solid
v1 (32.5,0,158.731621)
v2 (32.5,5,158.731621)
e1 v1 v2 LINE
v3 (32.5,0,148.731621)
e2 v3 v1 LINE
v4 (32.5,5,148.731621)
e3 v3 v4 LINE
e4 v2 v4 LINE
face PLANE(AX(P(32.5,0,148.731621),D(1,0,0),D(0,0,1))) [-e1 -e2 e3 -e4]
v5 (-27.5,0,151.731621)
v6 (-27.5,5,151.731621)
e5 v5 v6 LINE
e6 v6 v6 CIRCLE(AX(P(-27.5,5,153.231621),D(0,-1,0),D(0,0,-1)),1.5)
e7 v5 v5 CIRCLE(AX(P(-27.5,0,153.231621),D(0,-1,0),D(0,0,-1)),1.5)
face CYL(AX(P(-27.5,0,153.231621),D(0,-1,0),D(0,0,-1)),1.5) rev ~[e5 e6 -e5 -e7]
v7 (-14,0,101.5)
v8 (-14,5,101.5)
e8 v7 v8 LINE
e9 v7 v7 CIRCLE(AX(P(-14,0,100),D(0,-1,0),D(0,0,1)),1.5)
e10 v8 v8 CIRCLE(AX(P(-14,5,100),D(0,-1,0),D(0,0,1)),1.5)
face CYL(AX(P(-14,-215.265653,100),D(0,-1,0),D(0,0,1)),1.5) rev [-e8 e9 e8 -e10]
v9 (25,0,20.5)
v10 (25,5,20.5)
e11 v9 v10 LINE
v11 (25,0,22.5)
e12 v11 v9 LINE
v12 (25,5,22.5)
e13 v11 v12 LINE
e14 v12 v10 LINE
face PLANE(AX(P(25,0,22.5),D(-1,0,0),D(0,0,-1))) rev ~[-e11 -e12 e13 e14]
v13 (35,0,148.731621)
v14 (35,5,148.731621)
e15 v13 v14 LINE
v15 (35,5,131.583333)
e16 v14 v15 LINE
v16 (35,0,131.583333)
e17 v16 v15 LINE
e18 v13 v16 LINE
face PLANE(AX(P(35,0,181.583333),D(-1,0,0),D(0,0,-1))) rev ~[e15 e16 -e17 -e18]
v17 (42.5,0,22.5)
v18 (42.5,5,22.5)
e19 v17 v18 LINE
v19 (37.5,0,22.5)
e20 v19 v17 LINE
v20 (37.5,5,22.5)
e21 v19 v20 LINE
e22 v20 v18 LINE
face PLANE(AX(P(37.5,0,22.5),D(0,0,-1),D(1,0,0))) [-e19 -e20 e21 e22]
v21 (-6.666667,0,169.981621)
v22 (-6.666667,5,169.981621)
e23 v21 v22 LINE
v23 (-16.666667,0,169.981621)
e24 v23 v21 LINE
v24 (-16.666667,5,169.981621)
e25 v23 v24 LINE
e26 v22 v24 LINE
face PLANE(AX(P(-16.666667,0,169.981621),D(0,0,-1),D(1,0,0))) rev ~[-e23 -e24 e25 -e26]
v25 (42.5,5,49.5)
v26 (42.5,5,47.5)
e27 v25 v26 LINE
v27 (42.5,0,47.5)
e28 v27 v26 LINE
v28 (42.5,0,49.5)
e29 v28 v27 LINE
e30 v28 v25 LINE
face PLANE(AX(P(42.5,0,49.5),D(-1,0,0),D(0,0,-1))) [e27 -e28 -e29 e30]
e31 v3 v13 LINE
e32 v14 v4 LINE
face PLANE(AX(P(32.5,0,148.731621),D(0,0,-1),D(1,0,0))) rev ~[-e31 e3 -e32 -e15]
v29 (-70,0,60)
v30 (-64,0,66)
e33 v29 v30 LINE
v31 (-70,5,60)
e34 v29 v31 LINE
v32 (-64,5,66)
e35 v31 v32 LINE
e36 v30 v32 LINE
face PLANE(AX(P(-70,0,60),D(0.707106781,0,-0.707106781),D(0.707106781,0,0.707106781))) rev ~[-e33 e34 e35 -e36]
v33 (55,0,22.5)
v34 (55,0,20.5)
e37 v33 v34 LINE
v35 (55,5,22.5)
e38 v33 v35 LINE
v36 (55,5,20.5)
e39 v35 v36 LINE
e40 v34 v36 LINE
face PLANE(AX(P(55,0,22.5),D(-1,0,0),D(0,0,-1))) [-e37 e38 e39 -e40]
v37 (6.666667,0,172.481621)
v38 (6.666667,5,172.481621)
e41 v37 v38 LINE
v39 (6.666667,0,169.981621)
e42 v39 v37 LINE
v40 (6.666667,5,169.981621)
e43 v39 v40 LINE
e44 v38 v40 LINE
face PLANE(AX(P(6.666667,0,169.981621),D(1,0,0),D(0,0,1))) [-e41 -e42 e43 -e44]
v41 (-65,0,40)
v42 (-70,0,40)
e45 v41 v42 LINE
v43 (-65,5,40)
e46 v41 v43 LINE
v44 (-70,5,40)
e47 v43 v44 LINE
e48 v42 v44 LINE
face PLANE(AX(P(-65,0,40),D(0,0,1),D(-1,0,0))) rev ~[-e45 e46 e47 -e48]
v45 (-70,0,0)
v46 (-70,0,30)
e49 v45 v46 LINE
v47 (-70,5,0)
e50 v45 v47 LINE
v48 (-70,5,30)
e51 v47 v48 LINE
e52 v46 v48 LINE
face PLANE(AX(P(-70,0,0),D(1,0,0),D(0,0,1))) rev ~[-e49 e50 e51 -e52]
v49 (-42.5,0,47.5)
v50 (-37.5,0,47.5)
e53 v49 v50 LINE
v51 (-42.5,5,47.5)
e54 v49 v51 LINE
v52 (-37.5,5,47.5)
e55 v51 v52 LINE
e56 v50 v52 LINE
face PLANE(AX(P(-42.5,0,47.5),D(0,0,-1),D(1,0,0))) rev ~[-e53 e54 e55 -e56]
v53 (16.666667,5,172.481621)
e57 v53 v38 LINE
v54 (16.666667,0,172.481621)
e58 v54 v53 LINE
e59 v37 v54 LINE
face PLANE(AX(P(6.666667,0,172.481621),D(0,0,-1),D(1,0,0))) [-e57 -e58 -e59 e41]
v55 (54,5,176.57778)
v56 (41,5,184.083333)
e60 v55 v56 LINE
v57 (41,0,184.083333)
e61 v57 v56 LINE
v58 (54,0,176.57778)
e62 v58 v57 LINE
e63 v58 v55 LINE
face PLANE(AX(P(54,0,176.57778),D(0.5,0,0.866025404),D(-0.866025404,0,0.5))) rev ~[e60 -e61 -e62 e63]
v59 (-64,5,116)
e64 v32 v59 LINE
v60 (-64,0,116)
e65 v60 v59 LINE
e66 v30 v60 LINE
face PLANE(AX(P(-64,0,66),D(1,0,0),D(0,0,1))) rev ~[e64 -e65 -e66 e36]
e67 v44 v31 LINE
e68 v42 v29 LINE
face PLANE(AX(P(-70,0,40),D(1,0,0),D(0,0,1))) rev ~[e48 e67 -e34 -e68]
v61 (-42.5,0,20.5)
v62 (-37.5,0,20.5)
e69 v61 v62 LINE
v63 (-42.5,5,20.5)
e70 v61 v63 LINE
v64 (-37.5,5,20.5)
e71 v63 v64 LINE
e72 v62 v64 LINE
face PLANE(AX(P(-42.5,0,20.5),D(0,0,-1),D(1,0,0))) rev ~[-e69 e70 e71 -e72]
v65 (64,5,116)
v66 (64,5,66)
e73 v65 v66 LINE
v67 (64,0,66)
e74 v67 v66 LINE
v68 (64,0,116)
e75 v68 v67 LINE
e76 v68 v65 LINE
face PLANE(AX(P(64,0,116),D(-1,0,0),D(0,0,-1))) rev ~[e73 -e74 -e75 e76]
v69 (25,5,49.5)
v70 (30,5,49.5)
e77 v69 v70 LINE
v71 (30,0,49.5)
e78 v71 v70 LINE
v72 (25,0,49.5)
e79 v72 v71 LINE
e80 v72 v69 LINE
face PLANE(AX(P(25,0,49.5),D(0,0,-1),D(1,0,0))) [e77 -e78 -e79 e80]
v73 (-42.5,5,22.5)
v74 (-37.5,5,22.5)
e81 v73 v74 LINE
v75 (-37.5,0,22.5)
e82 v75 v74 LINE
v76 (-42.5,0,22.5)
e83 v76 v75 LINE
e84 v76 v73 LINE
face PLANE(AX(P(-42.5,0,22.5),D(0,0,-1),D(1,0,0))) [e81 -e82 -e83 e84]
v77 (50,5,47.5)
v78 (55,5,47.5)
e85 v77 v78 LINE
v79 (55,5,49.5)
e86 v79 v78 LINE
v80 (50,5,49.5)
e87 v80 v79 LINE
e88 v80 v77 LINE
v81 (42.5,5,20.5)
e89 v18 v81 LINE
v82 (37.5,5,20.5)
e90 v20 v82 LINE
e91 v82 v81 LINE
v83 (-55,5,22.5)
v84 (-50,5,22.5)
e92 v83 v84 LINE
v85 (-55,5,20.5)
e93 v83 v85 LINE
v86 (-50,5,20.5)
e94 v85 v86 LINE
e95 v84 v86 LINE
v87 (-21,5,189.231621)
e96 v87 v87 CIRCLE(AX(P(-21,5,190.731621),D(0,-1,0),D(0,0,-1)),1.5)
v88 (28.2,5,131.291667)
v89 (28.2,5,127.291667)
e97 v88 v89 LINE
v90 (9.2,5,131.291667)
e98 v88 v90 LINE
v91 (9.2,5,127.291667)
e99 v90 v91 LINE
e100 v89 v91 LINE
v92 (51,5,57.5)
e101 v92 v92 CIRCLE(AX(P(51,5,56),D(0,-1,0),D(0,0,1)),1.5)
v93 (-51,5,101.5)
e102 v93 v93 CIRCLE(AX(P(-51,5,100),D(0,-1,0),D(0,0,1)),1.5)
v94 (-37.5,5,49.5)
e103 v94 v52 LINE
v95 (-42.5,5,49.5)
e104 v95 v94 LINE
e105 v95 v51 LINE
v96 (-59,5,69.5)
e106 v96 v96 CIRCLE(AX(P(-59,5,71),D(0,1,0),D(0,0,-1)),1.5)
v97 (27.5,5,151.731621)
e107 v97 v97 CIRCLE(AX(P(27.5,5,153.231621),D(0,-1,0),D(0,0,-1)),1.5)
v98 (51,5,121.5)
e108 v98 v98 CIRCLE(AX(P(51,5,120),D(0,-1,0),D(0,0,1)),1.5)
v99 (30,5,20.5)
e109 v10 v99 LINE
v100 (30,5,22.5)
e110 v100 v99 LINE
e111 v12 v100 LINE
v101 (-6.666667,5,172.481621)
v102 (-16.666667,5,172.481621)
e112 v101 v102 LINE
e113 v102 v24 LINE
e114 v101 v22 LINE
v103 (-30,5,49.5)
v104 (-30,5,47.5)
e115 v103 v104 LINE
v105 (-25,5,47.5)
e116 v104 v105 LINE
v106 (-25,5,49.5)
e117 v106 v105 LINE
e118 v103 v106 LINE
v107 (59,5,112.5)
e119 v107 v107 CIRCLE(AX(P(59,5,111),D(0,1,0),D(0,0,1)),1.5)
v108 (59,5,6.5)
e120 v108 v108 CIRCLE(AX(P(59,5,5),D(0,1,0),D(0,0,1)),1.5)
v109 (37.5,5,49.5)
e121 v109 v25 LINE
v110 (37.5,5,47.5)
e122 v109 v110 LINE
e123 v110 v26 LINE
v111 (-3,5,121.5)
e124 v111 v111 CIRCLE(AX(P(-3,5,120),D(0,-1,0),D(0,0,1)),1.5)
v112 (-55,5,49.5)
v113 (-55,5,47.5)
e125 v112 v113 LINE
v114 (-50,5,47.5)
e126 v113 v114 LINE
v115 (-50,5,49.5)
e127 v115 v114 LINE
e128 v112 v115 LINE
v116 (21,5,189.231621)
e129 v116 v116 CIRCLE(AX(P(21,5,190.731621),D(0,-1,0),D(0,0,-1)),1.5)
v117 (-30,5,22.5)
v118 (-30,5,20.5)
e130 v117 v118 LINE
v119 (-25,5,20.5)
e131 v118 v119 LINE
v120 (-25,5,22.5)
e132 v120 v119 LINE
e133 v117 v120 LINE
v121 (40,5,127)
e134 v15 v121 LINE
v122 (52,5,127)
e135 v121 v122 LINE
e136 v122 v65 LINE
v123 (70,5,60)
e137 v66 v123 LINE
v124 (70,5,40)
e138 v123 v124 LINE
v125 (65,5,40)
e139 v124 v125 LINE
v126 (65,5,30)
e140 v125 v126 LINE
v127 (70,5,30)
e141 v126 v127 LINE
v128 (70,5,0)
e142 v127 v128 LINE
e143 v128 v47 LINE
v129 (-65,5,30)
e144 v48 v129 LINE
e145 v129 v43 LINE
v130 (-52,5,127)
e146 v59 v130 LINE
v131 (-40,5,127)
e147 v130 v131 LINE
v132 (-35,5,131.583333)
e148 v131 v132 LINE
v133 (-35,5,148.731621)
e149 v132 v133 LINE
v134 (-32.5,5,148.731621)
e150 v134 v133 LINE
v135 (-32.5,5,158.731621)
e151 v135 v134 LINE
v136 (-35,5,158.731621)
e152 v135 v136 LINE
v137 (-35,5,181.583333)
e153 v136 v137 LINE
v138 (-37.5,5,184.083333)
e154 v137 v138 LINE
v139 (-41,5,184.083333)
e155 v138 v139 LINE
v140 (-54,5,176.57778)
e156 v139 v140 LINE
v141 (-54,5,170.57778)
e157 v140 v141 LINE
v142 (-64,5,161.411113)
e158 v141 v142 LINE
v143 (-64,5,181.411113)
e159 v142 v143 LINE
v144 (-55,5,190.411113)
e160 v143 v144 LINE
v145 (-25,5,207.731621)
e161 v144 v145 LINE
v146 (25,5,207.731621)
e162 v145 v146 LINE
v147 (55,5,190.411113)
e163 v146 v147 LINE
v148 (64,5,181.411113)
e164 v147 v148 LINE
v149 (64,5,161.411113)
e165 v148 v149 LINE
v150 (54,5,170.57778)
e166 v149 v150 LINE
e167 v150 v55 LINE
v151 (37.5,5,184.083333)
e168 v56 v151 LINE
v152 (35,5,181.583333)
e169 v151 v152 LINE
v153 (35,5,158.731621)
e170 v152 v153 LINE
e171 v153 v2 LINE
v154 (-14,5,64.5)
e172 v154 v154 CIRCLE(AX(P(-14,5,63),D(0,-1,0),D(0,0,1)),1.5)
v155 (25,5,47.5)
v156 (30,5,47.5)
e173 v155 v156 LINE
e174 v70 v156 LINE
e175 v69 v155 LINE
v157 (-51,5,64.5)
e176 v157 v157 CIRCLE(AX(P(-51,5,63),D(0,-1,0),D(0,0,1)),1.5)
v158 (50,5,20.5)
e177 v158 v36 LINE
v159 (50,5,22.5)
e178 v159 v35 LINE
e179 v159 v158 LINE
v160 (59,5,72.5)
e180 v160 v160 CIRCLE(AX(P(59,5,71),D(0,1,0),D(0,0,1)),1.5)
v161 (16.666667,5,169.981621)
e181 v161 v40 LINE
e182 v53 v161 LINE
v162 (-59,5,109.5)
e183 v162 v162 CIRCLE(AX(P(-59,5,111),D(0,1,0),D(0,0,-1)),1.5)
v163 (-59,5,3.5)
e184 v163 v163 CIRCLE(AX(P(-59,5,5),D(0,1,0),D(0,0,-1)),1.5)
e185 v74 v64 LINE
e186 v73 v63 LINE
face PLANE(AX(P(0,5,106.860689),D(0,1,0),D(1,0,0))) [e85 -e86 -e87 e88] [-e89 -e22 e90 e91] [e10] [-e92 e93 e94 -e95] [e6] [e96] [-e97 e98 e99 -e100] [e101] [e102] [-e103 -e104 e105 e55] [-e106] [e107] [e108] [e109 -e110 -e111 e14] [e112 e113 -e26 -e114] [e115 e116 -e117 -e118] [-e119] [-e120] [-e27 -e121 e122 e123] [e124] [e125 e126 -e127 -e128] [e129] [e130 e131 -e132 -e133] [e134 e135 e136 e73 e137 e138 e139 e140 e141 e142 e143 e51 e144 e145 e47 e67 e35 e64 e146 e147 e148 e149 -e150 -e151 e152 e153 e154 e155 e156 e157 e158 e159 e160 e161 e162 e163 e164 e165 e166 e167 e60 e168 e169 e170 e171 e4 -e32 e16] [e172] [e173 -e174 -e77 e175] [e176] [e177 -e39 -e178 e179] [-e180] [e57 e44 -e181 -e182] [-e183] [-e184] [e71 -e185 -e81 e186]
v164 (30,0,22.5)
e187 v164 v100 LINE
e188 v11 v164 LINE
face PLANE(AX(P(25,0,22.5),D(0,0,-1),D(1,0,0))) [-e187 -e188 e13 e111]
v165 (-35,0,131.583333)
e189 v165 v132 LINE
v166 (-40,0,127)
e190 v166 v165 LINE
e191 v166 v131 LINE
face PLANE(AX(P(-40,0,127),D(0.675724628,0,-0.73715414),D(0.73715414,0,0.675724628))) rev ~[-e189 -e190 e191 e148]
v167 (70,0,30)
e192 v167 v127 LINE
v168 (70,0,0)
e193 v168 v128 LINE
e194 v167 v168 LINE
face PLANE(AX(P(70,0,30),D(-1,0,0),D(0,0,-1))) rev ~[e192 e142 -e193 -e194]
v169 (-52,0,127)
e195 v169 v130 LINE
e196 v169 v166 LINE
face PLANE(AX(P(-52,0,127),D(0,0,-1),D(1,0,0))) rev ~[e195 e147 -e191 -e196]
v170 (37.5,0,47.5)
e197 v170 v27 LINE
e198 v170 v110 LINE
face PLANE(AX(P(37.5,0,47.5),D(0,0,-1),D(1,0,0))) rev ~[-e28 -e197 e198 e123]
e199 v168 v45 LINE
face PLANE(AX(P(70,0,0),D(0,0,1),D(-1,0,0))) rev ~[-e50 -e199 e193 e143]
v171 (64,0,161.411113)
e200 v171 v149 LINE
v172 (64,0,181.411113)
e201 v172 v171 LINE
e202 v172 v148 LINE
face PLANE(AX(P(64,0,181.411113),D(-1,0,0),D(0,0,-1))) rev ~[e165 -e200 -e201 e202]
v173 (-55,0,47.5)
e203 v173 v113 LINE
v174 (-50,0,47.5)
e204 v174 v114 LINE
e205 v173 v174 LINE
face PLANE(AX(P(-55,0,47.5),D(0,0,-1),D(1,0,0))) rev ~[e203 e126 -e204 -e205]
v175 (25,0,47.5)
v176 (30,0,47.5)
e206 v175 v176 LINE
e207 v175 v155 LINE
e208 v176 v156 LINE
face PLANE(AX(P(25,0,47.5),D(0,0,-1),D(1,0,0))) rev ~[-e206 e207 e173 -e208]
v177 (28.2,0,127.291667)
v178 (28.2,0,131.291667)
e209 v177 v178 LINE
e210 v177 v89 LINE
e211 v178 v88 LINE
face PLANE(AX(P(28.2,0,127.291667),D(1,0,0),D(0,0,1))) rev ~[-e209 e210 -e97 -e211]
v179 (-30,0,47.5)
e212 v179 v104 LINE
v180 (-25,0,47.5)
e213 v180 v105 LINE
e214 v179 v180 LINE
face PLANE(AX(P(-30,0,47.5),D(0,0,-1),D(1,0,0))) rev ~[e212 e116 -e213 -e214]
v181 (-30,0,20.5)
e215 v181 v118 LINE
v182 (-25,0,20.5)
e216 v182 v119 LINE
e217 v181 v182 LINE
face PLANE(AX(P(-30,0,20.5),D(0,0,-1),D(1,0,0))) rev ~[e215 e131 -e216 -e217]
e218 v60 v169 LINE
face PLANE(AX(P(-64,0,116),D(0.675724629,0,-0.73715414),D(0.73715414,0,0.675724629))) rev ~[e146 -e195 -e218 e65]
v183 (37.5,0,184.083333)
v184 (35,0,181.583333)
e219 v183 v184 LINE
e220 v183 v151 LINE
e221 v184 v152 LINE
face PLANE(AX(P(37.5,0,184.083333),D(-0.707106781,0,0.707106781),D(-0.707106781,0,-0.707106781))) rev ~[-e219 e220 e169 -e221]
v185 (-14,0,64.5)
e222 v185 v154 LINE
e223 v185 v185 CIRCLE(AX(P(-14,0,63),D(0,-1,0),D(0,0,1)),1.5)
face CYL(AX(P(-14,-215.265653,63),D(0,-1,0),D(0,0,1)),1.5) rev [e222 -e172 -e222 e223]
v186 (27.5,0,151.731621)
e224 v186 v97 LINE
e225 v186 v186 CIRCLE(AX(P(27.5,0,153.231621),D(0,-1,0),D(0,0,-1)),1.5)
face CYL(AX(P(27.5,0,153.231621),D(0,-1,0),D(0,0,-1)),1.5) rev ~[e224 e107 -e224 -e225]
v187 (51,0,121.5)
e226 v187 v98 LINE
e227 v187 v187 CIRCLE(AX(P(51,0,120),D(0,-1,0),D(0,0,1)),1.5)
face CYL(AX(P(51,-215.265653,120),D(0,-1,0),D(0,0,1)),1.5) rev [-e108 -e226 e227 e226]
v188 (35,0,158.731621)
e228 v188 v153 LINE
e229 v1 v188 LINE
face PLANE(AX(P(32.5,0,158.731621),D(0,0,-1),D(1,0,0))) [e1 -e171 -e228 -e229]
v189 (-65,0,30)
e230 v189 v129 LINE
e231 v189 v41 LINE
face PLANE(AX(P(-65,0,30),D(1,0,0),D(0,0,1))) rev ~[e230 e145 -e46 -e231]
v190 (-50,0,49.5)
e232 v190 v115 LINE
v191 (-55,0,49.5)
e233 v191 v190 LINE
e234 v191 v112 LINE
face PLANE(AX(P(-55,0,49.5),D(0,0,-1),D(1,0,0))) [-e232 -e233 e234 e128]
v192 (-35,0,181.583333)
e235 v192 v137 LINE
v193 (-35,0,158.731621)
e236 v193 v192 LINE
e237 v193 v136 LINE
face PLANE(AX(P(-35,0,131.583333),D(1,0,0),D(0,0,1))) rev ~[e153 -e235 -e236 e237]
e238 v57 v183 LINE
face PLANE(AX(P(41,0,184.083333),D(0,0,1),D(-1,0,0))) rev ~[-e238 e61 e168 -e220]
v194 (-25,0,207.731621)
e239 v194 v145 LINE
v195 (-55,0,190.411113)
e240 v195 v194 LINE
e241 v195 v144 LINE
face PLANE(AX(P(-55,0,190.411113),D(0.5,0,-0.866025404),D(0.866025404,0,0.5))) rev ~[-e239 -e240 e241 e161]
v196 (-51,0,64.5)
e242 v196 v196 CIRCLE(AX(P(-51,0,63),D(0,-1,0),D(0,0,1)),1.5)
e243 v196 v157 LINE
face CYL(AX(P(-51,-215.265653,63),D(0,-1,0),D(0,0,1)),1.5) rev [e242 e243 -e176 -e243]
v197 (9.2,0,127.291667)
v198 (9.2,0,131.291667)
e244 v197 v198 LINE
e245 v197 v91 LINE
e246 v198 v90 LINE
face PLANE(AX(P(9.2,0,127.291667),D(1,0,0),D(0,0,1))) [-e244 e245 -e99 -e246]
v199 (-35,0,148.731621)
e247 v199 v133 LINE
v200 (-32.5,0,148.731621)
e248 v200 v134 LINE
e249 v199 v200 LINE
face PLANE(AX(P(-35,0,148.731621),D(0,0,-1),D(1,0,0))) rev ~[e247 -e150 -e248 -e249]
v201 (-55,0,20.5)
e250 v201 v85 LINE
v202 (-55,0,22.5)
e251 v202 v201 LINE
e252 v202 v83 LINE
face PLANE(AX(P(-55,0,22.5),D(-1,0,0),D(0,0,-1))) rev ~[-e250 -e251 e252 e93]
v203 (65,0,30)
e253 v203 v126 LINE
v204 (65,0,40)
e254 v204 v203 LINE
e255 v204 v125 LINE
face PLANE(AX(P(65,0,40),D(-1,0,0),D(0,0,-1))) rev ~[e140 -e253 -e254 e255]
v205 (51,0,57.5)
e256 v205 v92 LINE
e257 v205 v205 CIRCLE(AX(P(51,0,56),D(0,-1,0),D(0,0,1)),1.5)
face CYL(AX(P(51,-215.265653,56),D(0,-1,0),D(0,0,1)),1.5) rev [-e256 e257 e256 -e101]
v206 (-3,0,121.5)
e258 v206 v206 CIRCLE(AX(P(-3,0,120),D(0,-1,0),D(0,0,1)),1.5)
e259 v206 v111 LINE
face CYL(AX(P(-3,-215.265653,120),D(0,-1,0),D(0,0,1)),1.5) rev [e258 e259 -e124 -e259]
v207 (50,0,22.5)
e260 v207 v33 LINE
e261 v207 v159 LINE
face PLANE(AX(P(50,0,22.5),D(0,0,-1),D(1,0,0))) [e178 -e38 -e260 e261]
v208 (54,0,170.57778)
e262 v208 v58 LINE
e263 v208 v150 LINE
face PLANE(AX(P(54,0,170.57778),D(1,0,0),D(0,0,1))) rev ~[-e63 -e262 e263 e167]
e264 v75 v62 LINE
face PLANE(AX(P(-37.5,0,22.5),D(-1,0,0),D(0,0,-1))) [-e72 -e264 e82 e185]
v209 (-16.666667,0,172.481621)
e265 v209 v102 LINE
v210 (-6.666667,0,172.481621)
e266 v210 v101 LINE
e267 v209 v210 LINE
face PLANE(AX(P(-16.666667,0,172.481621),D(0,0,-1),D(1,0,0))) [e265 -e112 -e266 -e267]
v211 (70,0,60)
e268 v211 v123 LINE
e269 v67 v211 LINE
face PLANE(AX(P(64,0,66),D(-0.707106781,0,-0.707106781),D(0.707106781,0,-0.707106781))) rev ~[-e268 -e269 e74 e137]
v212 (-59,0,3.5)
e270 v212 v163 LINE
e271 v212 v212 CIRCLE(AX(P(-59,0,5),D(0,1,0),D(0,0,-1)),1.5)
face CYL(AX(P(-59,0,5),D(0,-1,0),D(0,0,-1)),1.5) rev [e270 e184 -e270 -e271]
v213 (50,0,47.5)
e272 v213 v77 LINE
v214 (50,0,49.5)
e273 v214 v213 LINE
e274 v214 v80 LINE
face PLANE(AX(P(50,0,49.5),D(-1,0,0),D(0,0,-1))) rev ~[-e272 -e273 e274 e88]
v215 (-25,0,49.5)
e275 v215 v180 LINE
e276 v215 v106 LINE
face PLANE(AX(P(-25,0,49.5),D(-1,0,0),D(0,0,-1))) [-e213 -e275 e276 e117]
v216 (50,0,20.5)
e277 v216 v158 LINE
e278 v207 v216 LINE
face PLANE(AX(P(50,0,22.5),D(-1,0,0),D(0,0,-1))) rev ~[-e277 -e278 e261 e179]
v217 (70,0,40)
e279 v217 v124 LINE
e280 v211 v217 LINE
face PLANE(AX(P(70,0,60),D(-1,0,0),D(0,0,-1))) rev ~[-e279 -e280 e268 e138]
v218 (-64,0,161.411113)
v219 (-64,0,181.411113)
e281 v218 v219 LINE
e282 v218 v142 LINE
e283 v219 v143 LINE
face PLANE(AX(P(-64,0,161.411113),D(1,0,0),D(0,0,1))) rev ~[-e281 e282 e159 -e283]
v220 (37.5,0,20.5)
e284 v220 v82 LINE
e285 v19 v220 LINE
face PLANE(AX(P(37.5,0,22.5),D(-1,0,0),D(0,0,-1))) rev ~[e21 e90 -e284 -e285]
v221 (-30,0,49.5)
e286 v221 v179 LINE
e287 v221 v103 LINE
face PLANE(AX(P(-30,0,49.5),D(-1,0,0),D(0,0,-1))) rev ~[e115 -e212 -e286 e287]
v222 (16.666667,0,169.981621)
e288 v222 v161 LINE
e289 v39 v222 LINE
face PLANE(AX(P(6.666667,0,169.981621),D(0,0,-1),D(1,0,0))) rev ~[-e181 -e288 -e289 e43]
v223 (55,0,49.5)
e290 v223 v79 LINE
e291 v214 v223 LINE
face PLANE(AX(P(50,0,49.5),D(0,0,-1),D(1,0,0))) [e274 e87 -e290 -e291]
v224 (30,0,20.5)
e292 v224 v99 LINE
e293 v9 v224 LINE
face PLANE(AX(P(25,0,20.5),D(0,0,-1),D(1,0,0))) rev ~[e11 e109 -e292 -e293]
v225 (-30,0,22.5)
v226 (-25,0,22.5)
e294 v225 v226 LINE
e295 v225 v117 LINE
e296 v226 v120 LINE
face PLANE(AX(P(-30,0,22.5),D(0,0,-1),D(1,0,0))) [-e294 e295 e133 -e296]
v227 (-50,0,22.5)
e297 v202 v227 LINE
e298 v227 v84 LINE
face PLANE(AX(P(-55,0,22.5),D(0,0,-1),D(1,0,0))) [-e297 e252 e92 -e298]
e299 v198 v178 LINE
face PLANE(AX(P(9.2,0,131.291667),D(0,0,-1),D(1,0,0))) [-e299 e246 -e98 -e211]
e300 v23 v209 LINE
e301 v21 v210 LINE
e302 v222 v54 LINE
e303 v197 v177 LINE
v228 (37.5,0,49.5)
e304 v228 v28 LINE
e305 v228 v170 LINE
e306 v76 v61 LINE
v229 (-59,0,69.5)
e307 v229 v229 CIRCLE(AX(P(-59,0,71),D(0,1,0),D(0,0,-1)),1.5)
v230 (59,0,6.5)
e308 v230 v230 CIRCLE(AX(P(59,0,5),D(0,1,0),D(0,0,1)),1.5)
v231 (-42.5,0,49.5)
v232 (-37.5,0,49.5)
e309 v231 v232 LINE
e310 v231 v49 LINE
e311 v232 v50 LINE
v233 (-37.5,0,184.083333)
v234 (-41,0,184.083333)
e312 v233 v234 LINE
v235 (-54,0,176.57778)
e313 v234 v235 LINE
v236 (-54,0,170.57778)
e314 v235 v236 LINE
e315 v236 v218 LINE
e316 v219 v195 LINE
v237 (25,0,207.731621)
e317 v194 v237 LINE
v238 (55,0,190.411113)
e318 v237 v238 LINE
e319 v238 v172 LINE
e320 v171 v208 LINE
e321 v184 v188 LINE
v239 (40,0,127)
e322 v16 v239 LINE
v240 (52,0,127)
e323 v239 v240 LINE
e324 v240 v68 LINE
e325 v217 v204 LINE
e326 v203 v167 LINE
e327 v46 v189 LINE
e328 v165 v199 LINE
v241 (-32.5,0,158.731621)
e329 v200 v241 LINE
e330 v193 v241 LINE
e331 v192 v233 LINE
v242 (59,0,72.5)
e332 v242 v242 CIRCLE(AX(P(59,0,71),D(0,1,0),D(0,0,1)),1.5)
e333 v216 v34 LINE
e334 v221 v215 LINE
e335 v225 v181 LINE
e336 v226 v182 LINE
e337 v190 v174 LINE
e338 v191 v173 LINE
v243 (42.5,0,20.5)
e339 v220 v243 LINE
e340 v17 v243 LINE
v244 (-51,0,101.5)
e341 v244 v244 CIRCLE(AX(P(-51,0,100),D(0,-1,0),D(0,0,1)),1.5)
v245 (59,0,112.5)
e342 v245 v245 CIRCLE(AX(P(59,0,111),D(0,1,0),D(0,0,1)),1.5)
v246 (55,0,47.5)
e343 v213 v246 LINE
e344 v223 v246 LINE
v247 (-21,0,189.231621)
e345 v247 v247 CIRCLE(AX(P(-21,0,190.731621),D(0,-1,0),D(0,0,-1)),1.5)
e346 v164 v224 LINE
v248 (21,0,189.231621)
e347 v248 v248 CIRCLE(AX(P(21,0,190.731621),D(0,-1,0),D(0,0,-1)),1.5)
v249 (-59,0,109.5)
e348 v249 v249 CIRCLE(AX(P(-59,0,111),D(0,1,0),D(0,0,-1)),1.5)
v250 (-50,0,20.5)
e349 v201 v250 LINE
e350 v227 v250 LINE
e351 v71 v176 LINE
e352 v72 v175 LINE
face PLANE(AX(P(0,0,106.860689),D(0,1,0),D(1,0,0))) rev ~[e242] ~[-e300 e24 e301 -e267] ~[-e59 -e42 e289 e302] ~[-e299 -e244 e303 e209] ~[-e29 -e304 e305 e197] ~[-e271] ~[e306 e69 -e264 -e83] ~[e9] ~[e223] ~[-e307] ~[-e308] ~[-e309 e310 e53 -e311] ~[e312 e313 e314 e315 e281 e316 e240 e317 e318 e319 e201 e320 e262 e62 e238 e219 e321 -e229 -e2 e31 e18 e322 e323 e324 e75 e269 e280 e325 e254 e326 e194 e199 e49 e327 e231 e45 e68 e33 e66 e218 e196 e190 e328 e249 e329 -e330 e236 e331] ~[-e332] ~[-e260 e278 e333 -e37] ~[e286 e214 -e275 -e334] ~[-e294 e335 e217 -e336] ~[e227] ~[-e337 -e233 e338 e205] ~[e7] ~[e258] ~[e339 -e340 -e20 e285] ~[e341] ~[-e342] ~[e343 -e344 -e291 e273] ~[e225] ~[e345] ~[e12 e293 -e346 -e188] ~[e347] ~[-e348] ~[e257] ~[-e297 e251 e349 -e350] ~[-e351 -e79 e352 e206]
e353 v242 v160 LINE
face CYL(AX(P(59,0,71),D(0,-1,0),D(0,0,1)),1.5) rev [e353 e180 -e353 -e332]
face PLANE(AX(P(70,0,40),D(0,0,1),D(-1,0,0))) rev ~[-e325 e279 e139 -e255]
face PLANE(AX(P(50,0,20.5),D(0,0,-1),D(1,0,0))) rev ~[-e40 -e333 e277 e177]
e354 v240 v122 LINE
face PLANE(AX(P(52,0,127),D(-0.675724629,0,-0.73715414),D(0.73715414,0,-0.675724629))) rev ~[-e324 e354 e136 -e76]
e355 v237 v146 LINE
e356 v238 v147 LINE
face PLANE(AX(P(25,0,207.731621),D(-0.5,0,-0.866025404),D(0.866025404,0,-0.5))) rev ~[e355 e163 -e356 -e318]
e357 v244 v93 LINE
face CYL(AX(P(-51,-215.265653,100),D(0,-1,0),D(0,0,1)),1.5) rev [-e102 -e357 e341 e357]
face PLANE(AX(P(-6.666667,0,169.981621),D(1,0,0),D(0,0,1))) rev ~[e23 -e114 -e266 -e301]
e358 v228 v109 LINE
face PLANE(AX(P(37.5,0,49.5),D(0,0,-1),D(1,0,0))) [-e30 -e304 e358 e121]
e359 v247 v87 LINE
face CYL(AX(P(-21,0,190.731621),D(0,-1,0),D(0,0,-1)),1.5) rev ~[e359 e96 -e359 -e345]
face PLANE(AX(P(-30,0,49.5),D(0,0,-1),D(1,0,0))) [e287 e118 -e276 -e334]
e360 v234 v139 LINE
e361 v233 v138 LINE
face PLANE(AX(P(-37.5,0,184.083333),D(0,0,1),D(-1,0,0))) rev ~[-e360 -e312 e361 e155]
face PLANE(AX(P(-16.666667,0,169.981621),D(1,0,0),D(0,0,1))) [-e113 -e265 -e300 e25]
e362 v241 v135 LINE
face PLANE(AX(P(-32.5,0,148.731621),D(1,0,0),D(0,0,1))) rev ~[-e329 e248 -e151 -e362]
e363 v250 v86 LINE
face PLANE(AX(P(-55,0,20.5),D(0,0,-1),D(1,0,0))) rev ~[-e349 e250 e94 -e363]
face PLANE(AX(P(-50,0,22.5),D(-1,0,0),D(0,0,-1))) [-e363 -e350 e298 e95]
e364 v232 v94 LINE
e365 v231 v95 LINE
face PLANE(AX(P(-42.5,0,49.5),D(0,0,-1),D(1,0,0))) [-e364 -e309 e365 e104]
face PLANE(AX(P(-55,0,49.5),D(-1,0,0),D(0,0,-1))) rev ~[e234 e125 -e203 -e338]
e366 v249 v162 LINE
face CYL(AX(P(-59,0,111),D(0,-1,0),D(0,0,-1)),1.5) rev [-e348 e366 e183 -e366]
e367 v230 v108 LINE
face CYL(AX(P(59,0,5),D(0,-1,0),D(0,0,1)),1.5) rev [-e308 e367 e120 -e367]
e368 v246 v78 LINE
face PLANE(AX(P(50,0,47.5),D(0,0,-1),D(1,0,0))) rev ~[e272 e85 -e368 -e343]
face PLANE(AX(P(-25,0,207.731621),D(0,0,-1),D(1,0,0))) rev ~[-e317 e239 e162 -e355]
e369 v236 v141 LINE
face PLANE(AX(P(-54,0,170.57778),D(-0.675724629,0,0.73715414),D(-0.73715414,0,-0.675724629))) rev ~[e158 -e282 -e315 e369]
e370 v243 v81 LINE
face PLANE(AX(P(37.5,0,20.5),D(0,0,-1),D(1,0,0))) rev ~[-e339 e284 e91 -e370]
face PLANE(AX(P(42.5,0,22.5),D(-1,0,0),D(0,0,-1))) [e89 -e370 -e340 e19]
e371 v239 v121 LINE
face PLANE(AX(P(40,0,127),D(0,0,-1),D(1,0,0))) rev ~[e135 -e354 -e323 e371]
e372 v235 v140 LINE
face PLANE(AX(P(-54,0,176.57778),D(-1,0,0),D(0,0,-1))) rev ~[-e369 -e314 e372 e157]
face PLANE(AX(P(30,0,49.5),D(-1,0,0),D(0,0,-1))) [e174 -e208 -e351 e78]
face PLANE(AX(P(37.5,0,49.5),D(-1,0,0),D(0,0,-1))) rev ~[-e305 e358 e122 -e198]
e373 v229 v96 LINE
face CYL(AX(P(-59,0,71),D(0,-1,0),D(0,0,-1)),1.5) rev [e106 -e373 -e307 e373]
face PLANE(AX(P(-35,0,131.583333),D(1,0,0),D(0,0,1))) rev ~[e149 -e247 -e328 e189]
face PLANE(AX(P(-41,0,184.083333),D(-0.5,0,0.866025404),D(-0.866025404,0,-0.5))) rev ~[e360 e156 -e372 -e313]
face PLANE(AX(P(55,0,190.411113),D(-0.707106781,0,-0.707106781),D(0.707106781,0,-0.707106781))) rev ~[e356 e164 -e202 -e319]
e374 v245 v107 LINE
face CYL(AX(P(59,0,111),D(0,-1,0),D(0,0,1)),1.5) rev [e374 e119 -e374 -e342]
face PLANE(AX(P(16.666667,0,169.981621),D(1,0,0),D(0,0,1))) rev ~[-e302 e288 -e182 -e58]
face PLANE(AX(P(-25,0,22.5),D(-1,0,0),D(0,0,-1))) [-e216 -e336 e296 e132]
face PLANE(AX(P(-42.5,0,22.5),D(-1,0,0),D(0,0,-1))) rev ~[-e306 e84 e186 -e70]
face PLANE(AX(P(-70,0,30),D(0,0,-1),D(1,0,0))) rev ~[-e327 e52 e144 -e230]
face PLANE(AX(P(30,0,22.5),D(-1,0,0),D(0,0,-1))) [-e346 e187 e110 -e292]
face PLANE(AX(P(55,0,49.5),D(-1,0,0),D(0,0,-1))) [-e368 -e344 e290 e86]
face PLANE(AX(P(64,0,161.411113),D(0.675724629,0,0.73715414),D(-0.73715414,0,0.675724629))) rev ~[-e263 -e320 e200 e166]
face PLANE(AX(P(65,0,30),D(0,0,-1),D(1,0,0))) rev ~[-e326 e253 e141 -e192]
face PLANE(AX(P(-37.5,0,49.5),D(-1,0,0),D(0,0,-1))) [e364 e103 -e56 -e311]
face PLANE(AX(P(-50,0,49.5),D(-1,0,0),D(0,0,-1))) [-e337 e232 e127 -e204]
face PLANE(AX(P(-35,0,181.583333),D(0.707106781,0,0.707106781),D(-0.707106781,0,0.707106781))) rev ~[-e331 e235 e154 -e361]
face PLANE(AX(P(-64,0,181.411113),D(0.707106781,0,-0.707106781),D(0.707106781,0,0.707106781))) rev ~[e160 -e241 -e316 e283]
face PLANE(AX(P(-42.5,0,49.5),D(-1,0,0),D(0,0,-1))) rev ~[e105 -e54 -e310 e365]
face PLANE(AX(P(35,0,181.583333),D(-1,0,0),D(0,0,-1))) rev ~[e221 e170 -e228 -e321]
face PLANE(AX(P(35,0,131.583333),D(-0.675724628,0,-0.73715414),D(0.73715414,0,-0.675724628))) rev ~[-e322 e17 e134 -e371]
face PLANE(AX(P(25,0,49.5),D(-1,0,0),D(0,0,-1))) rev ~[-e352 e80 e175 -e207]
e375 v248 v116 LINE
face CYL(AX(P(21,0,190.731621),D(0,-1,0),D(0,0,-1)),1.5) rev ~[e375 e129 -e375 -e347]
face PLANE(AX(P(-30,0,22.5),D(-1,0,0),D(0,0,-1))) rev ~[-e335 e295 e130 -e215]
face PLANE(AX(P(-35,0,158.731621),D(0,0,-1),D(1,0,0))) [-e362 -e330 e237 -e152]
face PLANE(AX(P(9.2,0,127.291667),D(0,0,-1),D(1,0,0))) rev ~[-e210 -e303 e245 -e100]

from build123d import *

# Parameters (mm, degrees)
SKETCH1_R               = 1.5
SKETCH1_W               = 5
SKETCH1_H               = 2
BOSS_EXTRUDE1_DEPTH     = 5
SENSOR_POS_R            = 1.5
SENSOR_POS_W            = 2.5
SENSOR_POS_H            = 10
SENSOR_POS_W_2          = 19
SENSOR_POS_H_2          = 4
SENSOR_POS_W_3          = 10
SENSOR_POS_H_3          = 2.5
CUT_EXTRUDE1_DEPTH      = 220.265652723
CUT_EXTRUDE2_DEPTH      = 220.265652723
CUT_EXTRUDE2_DEPTH_BACK = 220.265652723
SKETCH2_R               = 1.5


with BuildPart() as part:
    # Sketch1 → Boss-Extrude1 (new body)
    with BuildSketch(Plane(origin=(0, 0, 0), x_dir=(1, 0, 0), z_dir=(0, 1, 0))):
        Polygon((55, -190.411113167), (64, -181.411113167), (64, -161.411113167), (54, -170.577779834), (54, -176.577779834), (41, -184.083333333), (37.5, -184.083333333), (35, -181.583333333), (35, -131.583333333), (40, -127), (52, -127), (64, -116), (64, -66), (70, -60), (70, -40), (65, -40), (65, -30), (70, -30), (70, 0), (-70, 0), (-70, -30), (-65, -30), (-65, -40), (-70, -40), (-70, -60), (-64, -66), (-64, -116), (-52, -127), (-40, -127), (-35, -131.583333333), (-35, -181.583333333), (-37.5, -184.083333333), (-41, -184.083333333), (-54, -176.577779834), (-54, -170.577779834), (-64, -161.411113167), (-64, -181.411113167), (-55, -190.411113167), (-25, -207.731621243), (25, -207.731621243), align=None)
        with Locations(Location((59, -5, 0), (0, 0, 270))):
            Circle(SKETCH1_R, mode=Mode.SUBTRACT)
        with Locations(Location((59, -71, 0), (0, 0, 270))):
            Circle(SKETCH1_R, mode=Mode.SUBTRACT)
        with Locations(Location((59, -111, 0), (0, 0, 270))):
            Circle(SKETCH1_R, mode=Mode.SUBTRACT)
        with Locations(Location((-59, -111, 0), (0, 0, 90))):
            Circle(SKETCH1_R, mode=Mode.SUBTRACT)
        with Locations(Location((-59, -71, 0), (0, 0, 90))):
            Circle(SKETCH1_R, mode=Mode.SUBTRACT)
        with Locations(Location((-59, -5, 0), (0, 0, 90))):
            Circle(SKETCH1_R, mode=Mode.SUBTRACT)
        with Locations((52.5, -21.5)):
            Rectangle(SKETCH1_W, SKETCH1_H, mode=Mode.SUBTRACT)
        with Locations((40, -21.5)):
            Rectangle(SKETCH1_W, SKETCH1_H, mode=Mode.SUBTRACT)
        with Locations((27.5, -21.5)):
            Rectangle(SKETCH1_W, SKETCH1_H, mode=Mode.SUBTRACT)
        with Locations((52.5, -48.5)):
            Rectangle(SKETCH1_W, SKETCH1_H, mode=Mode.SUBTRACT)
        with Locations((40, -48.5)):
            Rectangle(SKETCH1_W, SKETCH1_H, mode=Mode.SUBTRACT)
        with Locations((27.5, -48.5)):
            Rectangle(SKETCH1_W, SKETCH1_H, mode=Mode.SUBTRACT)
        with Locations((-52.5, -48.5)):
            Rectangle(SKETCH1_W, SKETCH1_H, mode=Mode.SUBTRACT)
        with Locations((-40, -48.5)):
            Rectangle(SKETCH1_W, SKETCH1_H, mode=Mode.SUBTRACT)
        with Locations((-27.5, -48.5)):
            Rectangle(SKETCH1_W, SKETCH1_H, mode=Mode.SUBTRACT)
        with Locations((-52.5, -21.5)):
            Rectangle(SKETCH1_W, SKETCH1_H, mode=Mode.SUBTRACT)
        with Locations((-40, -21.5)):
            Rectangle(SKETCH1_W, SKETCH1_H, mode=Mode.SUBTRACT)
        with Locations((-27.5, -21.5)):
            Rectangle(SKETCH1_W, SKETCH1_H, mode=Mode.SUBTRACT)
    extrude(amount=BOSS_EXTRUDE1_DEPTH)

    # Sensor Pos → Cut-Extrude1 (cut, through all)
    with BuildSketch(Plane.XZ):
        with Locations(Location((27.5, 153.231621243, 0), (0, 0, 270))):
            Circle(SENSOR_POS_R)
        with Locations(Location((-27.5, 153.231621243, 0), (0, 0, 270))):
            Circle(SENSOR_POS_R)
        with Locations(Location((-21, 190.731621243, 0), (0, 0, 270))):
            Circle(SENSOR_POS_R)
        with Locations(Location((21, 190.731621243, 0), (0, 0, 270))):
            Circle(SENSOR_POS_R)
        with Locations((-33.75, 153.731621243)):
            Rectangle(SENSOR_POS_W, SENSOR_POS_H)
        with Locations((33.75, 153.731621243)):
            Rectangle(SENSOR_POS_W, SENSOR_POS_H)
        with Locations((18.7, 129.291666667)):
            Rectangle(SENSOR_POS_W_2, SENSOR_POS_H_2)
        with Locations((-11.666666667, 171.231621243)):
            Rectangle(SENSOR_POS_W_3, SENSOR_POS_H_3)
        with Locations((11.666666667, 171.231621243)):
            Rectangle(SENSOR_POS_W_3, SENSOR_POS_H_3)
    extrude(amount=-CUT_EXTRUDE1_DEPTH, mode=Mode.SUBTRACT)

    # Sketch2 → Cut-Extrude2 (cut, two sides: drawn at the far end of the back side and taken through both)
    with BuildSketch(Plane(origin=(0, 5, 0), x_dir=(1, 0, 0), z_dir=(0, 1, 0)).offset(-CUT_EXTRUDE2_DEPTH_BACK)):
        with Locations(Location((-51, -63, 0), (0, 0, 270))):
            Circle(SKETCH2_R)
        with Locations(Location((-14, -63, 0), (0, 0, 270))):
            Circle(SKETCH2_R)
        with Locations(Location((-51, -100, 0), (0, 0, 270))):
            Circle(SKETCH2_R)
        with Locations(Location((-14, -100, 0), (0, 0, 270))):
            Circle(SKETCH2_R)
        with Locations(Location((51, -56, 0), (0, 0, 270))):
            Circle(SKETCH2_R)
        with Locations(Location((-3, -120, 0), (0, 0, 270))):
            Circle(SKETCH2_R)
        with Locations(Location((51, -120, 0), (0, 0, 270))):
            Circle(SKETCH2_R)
    extrude(amount=CUT_EXTRUDE2_DEPTH + CUT_EXTRUDE2_DEPTH_BACK, mode=Mode.SUBTRACT)


solid = part.part
